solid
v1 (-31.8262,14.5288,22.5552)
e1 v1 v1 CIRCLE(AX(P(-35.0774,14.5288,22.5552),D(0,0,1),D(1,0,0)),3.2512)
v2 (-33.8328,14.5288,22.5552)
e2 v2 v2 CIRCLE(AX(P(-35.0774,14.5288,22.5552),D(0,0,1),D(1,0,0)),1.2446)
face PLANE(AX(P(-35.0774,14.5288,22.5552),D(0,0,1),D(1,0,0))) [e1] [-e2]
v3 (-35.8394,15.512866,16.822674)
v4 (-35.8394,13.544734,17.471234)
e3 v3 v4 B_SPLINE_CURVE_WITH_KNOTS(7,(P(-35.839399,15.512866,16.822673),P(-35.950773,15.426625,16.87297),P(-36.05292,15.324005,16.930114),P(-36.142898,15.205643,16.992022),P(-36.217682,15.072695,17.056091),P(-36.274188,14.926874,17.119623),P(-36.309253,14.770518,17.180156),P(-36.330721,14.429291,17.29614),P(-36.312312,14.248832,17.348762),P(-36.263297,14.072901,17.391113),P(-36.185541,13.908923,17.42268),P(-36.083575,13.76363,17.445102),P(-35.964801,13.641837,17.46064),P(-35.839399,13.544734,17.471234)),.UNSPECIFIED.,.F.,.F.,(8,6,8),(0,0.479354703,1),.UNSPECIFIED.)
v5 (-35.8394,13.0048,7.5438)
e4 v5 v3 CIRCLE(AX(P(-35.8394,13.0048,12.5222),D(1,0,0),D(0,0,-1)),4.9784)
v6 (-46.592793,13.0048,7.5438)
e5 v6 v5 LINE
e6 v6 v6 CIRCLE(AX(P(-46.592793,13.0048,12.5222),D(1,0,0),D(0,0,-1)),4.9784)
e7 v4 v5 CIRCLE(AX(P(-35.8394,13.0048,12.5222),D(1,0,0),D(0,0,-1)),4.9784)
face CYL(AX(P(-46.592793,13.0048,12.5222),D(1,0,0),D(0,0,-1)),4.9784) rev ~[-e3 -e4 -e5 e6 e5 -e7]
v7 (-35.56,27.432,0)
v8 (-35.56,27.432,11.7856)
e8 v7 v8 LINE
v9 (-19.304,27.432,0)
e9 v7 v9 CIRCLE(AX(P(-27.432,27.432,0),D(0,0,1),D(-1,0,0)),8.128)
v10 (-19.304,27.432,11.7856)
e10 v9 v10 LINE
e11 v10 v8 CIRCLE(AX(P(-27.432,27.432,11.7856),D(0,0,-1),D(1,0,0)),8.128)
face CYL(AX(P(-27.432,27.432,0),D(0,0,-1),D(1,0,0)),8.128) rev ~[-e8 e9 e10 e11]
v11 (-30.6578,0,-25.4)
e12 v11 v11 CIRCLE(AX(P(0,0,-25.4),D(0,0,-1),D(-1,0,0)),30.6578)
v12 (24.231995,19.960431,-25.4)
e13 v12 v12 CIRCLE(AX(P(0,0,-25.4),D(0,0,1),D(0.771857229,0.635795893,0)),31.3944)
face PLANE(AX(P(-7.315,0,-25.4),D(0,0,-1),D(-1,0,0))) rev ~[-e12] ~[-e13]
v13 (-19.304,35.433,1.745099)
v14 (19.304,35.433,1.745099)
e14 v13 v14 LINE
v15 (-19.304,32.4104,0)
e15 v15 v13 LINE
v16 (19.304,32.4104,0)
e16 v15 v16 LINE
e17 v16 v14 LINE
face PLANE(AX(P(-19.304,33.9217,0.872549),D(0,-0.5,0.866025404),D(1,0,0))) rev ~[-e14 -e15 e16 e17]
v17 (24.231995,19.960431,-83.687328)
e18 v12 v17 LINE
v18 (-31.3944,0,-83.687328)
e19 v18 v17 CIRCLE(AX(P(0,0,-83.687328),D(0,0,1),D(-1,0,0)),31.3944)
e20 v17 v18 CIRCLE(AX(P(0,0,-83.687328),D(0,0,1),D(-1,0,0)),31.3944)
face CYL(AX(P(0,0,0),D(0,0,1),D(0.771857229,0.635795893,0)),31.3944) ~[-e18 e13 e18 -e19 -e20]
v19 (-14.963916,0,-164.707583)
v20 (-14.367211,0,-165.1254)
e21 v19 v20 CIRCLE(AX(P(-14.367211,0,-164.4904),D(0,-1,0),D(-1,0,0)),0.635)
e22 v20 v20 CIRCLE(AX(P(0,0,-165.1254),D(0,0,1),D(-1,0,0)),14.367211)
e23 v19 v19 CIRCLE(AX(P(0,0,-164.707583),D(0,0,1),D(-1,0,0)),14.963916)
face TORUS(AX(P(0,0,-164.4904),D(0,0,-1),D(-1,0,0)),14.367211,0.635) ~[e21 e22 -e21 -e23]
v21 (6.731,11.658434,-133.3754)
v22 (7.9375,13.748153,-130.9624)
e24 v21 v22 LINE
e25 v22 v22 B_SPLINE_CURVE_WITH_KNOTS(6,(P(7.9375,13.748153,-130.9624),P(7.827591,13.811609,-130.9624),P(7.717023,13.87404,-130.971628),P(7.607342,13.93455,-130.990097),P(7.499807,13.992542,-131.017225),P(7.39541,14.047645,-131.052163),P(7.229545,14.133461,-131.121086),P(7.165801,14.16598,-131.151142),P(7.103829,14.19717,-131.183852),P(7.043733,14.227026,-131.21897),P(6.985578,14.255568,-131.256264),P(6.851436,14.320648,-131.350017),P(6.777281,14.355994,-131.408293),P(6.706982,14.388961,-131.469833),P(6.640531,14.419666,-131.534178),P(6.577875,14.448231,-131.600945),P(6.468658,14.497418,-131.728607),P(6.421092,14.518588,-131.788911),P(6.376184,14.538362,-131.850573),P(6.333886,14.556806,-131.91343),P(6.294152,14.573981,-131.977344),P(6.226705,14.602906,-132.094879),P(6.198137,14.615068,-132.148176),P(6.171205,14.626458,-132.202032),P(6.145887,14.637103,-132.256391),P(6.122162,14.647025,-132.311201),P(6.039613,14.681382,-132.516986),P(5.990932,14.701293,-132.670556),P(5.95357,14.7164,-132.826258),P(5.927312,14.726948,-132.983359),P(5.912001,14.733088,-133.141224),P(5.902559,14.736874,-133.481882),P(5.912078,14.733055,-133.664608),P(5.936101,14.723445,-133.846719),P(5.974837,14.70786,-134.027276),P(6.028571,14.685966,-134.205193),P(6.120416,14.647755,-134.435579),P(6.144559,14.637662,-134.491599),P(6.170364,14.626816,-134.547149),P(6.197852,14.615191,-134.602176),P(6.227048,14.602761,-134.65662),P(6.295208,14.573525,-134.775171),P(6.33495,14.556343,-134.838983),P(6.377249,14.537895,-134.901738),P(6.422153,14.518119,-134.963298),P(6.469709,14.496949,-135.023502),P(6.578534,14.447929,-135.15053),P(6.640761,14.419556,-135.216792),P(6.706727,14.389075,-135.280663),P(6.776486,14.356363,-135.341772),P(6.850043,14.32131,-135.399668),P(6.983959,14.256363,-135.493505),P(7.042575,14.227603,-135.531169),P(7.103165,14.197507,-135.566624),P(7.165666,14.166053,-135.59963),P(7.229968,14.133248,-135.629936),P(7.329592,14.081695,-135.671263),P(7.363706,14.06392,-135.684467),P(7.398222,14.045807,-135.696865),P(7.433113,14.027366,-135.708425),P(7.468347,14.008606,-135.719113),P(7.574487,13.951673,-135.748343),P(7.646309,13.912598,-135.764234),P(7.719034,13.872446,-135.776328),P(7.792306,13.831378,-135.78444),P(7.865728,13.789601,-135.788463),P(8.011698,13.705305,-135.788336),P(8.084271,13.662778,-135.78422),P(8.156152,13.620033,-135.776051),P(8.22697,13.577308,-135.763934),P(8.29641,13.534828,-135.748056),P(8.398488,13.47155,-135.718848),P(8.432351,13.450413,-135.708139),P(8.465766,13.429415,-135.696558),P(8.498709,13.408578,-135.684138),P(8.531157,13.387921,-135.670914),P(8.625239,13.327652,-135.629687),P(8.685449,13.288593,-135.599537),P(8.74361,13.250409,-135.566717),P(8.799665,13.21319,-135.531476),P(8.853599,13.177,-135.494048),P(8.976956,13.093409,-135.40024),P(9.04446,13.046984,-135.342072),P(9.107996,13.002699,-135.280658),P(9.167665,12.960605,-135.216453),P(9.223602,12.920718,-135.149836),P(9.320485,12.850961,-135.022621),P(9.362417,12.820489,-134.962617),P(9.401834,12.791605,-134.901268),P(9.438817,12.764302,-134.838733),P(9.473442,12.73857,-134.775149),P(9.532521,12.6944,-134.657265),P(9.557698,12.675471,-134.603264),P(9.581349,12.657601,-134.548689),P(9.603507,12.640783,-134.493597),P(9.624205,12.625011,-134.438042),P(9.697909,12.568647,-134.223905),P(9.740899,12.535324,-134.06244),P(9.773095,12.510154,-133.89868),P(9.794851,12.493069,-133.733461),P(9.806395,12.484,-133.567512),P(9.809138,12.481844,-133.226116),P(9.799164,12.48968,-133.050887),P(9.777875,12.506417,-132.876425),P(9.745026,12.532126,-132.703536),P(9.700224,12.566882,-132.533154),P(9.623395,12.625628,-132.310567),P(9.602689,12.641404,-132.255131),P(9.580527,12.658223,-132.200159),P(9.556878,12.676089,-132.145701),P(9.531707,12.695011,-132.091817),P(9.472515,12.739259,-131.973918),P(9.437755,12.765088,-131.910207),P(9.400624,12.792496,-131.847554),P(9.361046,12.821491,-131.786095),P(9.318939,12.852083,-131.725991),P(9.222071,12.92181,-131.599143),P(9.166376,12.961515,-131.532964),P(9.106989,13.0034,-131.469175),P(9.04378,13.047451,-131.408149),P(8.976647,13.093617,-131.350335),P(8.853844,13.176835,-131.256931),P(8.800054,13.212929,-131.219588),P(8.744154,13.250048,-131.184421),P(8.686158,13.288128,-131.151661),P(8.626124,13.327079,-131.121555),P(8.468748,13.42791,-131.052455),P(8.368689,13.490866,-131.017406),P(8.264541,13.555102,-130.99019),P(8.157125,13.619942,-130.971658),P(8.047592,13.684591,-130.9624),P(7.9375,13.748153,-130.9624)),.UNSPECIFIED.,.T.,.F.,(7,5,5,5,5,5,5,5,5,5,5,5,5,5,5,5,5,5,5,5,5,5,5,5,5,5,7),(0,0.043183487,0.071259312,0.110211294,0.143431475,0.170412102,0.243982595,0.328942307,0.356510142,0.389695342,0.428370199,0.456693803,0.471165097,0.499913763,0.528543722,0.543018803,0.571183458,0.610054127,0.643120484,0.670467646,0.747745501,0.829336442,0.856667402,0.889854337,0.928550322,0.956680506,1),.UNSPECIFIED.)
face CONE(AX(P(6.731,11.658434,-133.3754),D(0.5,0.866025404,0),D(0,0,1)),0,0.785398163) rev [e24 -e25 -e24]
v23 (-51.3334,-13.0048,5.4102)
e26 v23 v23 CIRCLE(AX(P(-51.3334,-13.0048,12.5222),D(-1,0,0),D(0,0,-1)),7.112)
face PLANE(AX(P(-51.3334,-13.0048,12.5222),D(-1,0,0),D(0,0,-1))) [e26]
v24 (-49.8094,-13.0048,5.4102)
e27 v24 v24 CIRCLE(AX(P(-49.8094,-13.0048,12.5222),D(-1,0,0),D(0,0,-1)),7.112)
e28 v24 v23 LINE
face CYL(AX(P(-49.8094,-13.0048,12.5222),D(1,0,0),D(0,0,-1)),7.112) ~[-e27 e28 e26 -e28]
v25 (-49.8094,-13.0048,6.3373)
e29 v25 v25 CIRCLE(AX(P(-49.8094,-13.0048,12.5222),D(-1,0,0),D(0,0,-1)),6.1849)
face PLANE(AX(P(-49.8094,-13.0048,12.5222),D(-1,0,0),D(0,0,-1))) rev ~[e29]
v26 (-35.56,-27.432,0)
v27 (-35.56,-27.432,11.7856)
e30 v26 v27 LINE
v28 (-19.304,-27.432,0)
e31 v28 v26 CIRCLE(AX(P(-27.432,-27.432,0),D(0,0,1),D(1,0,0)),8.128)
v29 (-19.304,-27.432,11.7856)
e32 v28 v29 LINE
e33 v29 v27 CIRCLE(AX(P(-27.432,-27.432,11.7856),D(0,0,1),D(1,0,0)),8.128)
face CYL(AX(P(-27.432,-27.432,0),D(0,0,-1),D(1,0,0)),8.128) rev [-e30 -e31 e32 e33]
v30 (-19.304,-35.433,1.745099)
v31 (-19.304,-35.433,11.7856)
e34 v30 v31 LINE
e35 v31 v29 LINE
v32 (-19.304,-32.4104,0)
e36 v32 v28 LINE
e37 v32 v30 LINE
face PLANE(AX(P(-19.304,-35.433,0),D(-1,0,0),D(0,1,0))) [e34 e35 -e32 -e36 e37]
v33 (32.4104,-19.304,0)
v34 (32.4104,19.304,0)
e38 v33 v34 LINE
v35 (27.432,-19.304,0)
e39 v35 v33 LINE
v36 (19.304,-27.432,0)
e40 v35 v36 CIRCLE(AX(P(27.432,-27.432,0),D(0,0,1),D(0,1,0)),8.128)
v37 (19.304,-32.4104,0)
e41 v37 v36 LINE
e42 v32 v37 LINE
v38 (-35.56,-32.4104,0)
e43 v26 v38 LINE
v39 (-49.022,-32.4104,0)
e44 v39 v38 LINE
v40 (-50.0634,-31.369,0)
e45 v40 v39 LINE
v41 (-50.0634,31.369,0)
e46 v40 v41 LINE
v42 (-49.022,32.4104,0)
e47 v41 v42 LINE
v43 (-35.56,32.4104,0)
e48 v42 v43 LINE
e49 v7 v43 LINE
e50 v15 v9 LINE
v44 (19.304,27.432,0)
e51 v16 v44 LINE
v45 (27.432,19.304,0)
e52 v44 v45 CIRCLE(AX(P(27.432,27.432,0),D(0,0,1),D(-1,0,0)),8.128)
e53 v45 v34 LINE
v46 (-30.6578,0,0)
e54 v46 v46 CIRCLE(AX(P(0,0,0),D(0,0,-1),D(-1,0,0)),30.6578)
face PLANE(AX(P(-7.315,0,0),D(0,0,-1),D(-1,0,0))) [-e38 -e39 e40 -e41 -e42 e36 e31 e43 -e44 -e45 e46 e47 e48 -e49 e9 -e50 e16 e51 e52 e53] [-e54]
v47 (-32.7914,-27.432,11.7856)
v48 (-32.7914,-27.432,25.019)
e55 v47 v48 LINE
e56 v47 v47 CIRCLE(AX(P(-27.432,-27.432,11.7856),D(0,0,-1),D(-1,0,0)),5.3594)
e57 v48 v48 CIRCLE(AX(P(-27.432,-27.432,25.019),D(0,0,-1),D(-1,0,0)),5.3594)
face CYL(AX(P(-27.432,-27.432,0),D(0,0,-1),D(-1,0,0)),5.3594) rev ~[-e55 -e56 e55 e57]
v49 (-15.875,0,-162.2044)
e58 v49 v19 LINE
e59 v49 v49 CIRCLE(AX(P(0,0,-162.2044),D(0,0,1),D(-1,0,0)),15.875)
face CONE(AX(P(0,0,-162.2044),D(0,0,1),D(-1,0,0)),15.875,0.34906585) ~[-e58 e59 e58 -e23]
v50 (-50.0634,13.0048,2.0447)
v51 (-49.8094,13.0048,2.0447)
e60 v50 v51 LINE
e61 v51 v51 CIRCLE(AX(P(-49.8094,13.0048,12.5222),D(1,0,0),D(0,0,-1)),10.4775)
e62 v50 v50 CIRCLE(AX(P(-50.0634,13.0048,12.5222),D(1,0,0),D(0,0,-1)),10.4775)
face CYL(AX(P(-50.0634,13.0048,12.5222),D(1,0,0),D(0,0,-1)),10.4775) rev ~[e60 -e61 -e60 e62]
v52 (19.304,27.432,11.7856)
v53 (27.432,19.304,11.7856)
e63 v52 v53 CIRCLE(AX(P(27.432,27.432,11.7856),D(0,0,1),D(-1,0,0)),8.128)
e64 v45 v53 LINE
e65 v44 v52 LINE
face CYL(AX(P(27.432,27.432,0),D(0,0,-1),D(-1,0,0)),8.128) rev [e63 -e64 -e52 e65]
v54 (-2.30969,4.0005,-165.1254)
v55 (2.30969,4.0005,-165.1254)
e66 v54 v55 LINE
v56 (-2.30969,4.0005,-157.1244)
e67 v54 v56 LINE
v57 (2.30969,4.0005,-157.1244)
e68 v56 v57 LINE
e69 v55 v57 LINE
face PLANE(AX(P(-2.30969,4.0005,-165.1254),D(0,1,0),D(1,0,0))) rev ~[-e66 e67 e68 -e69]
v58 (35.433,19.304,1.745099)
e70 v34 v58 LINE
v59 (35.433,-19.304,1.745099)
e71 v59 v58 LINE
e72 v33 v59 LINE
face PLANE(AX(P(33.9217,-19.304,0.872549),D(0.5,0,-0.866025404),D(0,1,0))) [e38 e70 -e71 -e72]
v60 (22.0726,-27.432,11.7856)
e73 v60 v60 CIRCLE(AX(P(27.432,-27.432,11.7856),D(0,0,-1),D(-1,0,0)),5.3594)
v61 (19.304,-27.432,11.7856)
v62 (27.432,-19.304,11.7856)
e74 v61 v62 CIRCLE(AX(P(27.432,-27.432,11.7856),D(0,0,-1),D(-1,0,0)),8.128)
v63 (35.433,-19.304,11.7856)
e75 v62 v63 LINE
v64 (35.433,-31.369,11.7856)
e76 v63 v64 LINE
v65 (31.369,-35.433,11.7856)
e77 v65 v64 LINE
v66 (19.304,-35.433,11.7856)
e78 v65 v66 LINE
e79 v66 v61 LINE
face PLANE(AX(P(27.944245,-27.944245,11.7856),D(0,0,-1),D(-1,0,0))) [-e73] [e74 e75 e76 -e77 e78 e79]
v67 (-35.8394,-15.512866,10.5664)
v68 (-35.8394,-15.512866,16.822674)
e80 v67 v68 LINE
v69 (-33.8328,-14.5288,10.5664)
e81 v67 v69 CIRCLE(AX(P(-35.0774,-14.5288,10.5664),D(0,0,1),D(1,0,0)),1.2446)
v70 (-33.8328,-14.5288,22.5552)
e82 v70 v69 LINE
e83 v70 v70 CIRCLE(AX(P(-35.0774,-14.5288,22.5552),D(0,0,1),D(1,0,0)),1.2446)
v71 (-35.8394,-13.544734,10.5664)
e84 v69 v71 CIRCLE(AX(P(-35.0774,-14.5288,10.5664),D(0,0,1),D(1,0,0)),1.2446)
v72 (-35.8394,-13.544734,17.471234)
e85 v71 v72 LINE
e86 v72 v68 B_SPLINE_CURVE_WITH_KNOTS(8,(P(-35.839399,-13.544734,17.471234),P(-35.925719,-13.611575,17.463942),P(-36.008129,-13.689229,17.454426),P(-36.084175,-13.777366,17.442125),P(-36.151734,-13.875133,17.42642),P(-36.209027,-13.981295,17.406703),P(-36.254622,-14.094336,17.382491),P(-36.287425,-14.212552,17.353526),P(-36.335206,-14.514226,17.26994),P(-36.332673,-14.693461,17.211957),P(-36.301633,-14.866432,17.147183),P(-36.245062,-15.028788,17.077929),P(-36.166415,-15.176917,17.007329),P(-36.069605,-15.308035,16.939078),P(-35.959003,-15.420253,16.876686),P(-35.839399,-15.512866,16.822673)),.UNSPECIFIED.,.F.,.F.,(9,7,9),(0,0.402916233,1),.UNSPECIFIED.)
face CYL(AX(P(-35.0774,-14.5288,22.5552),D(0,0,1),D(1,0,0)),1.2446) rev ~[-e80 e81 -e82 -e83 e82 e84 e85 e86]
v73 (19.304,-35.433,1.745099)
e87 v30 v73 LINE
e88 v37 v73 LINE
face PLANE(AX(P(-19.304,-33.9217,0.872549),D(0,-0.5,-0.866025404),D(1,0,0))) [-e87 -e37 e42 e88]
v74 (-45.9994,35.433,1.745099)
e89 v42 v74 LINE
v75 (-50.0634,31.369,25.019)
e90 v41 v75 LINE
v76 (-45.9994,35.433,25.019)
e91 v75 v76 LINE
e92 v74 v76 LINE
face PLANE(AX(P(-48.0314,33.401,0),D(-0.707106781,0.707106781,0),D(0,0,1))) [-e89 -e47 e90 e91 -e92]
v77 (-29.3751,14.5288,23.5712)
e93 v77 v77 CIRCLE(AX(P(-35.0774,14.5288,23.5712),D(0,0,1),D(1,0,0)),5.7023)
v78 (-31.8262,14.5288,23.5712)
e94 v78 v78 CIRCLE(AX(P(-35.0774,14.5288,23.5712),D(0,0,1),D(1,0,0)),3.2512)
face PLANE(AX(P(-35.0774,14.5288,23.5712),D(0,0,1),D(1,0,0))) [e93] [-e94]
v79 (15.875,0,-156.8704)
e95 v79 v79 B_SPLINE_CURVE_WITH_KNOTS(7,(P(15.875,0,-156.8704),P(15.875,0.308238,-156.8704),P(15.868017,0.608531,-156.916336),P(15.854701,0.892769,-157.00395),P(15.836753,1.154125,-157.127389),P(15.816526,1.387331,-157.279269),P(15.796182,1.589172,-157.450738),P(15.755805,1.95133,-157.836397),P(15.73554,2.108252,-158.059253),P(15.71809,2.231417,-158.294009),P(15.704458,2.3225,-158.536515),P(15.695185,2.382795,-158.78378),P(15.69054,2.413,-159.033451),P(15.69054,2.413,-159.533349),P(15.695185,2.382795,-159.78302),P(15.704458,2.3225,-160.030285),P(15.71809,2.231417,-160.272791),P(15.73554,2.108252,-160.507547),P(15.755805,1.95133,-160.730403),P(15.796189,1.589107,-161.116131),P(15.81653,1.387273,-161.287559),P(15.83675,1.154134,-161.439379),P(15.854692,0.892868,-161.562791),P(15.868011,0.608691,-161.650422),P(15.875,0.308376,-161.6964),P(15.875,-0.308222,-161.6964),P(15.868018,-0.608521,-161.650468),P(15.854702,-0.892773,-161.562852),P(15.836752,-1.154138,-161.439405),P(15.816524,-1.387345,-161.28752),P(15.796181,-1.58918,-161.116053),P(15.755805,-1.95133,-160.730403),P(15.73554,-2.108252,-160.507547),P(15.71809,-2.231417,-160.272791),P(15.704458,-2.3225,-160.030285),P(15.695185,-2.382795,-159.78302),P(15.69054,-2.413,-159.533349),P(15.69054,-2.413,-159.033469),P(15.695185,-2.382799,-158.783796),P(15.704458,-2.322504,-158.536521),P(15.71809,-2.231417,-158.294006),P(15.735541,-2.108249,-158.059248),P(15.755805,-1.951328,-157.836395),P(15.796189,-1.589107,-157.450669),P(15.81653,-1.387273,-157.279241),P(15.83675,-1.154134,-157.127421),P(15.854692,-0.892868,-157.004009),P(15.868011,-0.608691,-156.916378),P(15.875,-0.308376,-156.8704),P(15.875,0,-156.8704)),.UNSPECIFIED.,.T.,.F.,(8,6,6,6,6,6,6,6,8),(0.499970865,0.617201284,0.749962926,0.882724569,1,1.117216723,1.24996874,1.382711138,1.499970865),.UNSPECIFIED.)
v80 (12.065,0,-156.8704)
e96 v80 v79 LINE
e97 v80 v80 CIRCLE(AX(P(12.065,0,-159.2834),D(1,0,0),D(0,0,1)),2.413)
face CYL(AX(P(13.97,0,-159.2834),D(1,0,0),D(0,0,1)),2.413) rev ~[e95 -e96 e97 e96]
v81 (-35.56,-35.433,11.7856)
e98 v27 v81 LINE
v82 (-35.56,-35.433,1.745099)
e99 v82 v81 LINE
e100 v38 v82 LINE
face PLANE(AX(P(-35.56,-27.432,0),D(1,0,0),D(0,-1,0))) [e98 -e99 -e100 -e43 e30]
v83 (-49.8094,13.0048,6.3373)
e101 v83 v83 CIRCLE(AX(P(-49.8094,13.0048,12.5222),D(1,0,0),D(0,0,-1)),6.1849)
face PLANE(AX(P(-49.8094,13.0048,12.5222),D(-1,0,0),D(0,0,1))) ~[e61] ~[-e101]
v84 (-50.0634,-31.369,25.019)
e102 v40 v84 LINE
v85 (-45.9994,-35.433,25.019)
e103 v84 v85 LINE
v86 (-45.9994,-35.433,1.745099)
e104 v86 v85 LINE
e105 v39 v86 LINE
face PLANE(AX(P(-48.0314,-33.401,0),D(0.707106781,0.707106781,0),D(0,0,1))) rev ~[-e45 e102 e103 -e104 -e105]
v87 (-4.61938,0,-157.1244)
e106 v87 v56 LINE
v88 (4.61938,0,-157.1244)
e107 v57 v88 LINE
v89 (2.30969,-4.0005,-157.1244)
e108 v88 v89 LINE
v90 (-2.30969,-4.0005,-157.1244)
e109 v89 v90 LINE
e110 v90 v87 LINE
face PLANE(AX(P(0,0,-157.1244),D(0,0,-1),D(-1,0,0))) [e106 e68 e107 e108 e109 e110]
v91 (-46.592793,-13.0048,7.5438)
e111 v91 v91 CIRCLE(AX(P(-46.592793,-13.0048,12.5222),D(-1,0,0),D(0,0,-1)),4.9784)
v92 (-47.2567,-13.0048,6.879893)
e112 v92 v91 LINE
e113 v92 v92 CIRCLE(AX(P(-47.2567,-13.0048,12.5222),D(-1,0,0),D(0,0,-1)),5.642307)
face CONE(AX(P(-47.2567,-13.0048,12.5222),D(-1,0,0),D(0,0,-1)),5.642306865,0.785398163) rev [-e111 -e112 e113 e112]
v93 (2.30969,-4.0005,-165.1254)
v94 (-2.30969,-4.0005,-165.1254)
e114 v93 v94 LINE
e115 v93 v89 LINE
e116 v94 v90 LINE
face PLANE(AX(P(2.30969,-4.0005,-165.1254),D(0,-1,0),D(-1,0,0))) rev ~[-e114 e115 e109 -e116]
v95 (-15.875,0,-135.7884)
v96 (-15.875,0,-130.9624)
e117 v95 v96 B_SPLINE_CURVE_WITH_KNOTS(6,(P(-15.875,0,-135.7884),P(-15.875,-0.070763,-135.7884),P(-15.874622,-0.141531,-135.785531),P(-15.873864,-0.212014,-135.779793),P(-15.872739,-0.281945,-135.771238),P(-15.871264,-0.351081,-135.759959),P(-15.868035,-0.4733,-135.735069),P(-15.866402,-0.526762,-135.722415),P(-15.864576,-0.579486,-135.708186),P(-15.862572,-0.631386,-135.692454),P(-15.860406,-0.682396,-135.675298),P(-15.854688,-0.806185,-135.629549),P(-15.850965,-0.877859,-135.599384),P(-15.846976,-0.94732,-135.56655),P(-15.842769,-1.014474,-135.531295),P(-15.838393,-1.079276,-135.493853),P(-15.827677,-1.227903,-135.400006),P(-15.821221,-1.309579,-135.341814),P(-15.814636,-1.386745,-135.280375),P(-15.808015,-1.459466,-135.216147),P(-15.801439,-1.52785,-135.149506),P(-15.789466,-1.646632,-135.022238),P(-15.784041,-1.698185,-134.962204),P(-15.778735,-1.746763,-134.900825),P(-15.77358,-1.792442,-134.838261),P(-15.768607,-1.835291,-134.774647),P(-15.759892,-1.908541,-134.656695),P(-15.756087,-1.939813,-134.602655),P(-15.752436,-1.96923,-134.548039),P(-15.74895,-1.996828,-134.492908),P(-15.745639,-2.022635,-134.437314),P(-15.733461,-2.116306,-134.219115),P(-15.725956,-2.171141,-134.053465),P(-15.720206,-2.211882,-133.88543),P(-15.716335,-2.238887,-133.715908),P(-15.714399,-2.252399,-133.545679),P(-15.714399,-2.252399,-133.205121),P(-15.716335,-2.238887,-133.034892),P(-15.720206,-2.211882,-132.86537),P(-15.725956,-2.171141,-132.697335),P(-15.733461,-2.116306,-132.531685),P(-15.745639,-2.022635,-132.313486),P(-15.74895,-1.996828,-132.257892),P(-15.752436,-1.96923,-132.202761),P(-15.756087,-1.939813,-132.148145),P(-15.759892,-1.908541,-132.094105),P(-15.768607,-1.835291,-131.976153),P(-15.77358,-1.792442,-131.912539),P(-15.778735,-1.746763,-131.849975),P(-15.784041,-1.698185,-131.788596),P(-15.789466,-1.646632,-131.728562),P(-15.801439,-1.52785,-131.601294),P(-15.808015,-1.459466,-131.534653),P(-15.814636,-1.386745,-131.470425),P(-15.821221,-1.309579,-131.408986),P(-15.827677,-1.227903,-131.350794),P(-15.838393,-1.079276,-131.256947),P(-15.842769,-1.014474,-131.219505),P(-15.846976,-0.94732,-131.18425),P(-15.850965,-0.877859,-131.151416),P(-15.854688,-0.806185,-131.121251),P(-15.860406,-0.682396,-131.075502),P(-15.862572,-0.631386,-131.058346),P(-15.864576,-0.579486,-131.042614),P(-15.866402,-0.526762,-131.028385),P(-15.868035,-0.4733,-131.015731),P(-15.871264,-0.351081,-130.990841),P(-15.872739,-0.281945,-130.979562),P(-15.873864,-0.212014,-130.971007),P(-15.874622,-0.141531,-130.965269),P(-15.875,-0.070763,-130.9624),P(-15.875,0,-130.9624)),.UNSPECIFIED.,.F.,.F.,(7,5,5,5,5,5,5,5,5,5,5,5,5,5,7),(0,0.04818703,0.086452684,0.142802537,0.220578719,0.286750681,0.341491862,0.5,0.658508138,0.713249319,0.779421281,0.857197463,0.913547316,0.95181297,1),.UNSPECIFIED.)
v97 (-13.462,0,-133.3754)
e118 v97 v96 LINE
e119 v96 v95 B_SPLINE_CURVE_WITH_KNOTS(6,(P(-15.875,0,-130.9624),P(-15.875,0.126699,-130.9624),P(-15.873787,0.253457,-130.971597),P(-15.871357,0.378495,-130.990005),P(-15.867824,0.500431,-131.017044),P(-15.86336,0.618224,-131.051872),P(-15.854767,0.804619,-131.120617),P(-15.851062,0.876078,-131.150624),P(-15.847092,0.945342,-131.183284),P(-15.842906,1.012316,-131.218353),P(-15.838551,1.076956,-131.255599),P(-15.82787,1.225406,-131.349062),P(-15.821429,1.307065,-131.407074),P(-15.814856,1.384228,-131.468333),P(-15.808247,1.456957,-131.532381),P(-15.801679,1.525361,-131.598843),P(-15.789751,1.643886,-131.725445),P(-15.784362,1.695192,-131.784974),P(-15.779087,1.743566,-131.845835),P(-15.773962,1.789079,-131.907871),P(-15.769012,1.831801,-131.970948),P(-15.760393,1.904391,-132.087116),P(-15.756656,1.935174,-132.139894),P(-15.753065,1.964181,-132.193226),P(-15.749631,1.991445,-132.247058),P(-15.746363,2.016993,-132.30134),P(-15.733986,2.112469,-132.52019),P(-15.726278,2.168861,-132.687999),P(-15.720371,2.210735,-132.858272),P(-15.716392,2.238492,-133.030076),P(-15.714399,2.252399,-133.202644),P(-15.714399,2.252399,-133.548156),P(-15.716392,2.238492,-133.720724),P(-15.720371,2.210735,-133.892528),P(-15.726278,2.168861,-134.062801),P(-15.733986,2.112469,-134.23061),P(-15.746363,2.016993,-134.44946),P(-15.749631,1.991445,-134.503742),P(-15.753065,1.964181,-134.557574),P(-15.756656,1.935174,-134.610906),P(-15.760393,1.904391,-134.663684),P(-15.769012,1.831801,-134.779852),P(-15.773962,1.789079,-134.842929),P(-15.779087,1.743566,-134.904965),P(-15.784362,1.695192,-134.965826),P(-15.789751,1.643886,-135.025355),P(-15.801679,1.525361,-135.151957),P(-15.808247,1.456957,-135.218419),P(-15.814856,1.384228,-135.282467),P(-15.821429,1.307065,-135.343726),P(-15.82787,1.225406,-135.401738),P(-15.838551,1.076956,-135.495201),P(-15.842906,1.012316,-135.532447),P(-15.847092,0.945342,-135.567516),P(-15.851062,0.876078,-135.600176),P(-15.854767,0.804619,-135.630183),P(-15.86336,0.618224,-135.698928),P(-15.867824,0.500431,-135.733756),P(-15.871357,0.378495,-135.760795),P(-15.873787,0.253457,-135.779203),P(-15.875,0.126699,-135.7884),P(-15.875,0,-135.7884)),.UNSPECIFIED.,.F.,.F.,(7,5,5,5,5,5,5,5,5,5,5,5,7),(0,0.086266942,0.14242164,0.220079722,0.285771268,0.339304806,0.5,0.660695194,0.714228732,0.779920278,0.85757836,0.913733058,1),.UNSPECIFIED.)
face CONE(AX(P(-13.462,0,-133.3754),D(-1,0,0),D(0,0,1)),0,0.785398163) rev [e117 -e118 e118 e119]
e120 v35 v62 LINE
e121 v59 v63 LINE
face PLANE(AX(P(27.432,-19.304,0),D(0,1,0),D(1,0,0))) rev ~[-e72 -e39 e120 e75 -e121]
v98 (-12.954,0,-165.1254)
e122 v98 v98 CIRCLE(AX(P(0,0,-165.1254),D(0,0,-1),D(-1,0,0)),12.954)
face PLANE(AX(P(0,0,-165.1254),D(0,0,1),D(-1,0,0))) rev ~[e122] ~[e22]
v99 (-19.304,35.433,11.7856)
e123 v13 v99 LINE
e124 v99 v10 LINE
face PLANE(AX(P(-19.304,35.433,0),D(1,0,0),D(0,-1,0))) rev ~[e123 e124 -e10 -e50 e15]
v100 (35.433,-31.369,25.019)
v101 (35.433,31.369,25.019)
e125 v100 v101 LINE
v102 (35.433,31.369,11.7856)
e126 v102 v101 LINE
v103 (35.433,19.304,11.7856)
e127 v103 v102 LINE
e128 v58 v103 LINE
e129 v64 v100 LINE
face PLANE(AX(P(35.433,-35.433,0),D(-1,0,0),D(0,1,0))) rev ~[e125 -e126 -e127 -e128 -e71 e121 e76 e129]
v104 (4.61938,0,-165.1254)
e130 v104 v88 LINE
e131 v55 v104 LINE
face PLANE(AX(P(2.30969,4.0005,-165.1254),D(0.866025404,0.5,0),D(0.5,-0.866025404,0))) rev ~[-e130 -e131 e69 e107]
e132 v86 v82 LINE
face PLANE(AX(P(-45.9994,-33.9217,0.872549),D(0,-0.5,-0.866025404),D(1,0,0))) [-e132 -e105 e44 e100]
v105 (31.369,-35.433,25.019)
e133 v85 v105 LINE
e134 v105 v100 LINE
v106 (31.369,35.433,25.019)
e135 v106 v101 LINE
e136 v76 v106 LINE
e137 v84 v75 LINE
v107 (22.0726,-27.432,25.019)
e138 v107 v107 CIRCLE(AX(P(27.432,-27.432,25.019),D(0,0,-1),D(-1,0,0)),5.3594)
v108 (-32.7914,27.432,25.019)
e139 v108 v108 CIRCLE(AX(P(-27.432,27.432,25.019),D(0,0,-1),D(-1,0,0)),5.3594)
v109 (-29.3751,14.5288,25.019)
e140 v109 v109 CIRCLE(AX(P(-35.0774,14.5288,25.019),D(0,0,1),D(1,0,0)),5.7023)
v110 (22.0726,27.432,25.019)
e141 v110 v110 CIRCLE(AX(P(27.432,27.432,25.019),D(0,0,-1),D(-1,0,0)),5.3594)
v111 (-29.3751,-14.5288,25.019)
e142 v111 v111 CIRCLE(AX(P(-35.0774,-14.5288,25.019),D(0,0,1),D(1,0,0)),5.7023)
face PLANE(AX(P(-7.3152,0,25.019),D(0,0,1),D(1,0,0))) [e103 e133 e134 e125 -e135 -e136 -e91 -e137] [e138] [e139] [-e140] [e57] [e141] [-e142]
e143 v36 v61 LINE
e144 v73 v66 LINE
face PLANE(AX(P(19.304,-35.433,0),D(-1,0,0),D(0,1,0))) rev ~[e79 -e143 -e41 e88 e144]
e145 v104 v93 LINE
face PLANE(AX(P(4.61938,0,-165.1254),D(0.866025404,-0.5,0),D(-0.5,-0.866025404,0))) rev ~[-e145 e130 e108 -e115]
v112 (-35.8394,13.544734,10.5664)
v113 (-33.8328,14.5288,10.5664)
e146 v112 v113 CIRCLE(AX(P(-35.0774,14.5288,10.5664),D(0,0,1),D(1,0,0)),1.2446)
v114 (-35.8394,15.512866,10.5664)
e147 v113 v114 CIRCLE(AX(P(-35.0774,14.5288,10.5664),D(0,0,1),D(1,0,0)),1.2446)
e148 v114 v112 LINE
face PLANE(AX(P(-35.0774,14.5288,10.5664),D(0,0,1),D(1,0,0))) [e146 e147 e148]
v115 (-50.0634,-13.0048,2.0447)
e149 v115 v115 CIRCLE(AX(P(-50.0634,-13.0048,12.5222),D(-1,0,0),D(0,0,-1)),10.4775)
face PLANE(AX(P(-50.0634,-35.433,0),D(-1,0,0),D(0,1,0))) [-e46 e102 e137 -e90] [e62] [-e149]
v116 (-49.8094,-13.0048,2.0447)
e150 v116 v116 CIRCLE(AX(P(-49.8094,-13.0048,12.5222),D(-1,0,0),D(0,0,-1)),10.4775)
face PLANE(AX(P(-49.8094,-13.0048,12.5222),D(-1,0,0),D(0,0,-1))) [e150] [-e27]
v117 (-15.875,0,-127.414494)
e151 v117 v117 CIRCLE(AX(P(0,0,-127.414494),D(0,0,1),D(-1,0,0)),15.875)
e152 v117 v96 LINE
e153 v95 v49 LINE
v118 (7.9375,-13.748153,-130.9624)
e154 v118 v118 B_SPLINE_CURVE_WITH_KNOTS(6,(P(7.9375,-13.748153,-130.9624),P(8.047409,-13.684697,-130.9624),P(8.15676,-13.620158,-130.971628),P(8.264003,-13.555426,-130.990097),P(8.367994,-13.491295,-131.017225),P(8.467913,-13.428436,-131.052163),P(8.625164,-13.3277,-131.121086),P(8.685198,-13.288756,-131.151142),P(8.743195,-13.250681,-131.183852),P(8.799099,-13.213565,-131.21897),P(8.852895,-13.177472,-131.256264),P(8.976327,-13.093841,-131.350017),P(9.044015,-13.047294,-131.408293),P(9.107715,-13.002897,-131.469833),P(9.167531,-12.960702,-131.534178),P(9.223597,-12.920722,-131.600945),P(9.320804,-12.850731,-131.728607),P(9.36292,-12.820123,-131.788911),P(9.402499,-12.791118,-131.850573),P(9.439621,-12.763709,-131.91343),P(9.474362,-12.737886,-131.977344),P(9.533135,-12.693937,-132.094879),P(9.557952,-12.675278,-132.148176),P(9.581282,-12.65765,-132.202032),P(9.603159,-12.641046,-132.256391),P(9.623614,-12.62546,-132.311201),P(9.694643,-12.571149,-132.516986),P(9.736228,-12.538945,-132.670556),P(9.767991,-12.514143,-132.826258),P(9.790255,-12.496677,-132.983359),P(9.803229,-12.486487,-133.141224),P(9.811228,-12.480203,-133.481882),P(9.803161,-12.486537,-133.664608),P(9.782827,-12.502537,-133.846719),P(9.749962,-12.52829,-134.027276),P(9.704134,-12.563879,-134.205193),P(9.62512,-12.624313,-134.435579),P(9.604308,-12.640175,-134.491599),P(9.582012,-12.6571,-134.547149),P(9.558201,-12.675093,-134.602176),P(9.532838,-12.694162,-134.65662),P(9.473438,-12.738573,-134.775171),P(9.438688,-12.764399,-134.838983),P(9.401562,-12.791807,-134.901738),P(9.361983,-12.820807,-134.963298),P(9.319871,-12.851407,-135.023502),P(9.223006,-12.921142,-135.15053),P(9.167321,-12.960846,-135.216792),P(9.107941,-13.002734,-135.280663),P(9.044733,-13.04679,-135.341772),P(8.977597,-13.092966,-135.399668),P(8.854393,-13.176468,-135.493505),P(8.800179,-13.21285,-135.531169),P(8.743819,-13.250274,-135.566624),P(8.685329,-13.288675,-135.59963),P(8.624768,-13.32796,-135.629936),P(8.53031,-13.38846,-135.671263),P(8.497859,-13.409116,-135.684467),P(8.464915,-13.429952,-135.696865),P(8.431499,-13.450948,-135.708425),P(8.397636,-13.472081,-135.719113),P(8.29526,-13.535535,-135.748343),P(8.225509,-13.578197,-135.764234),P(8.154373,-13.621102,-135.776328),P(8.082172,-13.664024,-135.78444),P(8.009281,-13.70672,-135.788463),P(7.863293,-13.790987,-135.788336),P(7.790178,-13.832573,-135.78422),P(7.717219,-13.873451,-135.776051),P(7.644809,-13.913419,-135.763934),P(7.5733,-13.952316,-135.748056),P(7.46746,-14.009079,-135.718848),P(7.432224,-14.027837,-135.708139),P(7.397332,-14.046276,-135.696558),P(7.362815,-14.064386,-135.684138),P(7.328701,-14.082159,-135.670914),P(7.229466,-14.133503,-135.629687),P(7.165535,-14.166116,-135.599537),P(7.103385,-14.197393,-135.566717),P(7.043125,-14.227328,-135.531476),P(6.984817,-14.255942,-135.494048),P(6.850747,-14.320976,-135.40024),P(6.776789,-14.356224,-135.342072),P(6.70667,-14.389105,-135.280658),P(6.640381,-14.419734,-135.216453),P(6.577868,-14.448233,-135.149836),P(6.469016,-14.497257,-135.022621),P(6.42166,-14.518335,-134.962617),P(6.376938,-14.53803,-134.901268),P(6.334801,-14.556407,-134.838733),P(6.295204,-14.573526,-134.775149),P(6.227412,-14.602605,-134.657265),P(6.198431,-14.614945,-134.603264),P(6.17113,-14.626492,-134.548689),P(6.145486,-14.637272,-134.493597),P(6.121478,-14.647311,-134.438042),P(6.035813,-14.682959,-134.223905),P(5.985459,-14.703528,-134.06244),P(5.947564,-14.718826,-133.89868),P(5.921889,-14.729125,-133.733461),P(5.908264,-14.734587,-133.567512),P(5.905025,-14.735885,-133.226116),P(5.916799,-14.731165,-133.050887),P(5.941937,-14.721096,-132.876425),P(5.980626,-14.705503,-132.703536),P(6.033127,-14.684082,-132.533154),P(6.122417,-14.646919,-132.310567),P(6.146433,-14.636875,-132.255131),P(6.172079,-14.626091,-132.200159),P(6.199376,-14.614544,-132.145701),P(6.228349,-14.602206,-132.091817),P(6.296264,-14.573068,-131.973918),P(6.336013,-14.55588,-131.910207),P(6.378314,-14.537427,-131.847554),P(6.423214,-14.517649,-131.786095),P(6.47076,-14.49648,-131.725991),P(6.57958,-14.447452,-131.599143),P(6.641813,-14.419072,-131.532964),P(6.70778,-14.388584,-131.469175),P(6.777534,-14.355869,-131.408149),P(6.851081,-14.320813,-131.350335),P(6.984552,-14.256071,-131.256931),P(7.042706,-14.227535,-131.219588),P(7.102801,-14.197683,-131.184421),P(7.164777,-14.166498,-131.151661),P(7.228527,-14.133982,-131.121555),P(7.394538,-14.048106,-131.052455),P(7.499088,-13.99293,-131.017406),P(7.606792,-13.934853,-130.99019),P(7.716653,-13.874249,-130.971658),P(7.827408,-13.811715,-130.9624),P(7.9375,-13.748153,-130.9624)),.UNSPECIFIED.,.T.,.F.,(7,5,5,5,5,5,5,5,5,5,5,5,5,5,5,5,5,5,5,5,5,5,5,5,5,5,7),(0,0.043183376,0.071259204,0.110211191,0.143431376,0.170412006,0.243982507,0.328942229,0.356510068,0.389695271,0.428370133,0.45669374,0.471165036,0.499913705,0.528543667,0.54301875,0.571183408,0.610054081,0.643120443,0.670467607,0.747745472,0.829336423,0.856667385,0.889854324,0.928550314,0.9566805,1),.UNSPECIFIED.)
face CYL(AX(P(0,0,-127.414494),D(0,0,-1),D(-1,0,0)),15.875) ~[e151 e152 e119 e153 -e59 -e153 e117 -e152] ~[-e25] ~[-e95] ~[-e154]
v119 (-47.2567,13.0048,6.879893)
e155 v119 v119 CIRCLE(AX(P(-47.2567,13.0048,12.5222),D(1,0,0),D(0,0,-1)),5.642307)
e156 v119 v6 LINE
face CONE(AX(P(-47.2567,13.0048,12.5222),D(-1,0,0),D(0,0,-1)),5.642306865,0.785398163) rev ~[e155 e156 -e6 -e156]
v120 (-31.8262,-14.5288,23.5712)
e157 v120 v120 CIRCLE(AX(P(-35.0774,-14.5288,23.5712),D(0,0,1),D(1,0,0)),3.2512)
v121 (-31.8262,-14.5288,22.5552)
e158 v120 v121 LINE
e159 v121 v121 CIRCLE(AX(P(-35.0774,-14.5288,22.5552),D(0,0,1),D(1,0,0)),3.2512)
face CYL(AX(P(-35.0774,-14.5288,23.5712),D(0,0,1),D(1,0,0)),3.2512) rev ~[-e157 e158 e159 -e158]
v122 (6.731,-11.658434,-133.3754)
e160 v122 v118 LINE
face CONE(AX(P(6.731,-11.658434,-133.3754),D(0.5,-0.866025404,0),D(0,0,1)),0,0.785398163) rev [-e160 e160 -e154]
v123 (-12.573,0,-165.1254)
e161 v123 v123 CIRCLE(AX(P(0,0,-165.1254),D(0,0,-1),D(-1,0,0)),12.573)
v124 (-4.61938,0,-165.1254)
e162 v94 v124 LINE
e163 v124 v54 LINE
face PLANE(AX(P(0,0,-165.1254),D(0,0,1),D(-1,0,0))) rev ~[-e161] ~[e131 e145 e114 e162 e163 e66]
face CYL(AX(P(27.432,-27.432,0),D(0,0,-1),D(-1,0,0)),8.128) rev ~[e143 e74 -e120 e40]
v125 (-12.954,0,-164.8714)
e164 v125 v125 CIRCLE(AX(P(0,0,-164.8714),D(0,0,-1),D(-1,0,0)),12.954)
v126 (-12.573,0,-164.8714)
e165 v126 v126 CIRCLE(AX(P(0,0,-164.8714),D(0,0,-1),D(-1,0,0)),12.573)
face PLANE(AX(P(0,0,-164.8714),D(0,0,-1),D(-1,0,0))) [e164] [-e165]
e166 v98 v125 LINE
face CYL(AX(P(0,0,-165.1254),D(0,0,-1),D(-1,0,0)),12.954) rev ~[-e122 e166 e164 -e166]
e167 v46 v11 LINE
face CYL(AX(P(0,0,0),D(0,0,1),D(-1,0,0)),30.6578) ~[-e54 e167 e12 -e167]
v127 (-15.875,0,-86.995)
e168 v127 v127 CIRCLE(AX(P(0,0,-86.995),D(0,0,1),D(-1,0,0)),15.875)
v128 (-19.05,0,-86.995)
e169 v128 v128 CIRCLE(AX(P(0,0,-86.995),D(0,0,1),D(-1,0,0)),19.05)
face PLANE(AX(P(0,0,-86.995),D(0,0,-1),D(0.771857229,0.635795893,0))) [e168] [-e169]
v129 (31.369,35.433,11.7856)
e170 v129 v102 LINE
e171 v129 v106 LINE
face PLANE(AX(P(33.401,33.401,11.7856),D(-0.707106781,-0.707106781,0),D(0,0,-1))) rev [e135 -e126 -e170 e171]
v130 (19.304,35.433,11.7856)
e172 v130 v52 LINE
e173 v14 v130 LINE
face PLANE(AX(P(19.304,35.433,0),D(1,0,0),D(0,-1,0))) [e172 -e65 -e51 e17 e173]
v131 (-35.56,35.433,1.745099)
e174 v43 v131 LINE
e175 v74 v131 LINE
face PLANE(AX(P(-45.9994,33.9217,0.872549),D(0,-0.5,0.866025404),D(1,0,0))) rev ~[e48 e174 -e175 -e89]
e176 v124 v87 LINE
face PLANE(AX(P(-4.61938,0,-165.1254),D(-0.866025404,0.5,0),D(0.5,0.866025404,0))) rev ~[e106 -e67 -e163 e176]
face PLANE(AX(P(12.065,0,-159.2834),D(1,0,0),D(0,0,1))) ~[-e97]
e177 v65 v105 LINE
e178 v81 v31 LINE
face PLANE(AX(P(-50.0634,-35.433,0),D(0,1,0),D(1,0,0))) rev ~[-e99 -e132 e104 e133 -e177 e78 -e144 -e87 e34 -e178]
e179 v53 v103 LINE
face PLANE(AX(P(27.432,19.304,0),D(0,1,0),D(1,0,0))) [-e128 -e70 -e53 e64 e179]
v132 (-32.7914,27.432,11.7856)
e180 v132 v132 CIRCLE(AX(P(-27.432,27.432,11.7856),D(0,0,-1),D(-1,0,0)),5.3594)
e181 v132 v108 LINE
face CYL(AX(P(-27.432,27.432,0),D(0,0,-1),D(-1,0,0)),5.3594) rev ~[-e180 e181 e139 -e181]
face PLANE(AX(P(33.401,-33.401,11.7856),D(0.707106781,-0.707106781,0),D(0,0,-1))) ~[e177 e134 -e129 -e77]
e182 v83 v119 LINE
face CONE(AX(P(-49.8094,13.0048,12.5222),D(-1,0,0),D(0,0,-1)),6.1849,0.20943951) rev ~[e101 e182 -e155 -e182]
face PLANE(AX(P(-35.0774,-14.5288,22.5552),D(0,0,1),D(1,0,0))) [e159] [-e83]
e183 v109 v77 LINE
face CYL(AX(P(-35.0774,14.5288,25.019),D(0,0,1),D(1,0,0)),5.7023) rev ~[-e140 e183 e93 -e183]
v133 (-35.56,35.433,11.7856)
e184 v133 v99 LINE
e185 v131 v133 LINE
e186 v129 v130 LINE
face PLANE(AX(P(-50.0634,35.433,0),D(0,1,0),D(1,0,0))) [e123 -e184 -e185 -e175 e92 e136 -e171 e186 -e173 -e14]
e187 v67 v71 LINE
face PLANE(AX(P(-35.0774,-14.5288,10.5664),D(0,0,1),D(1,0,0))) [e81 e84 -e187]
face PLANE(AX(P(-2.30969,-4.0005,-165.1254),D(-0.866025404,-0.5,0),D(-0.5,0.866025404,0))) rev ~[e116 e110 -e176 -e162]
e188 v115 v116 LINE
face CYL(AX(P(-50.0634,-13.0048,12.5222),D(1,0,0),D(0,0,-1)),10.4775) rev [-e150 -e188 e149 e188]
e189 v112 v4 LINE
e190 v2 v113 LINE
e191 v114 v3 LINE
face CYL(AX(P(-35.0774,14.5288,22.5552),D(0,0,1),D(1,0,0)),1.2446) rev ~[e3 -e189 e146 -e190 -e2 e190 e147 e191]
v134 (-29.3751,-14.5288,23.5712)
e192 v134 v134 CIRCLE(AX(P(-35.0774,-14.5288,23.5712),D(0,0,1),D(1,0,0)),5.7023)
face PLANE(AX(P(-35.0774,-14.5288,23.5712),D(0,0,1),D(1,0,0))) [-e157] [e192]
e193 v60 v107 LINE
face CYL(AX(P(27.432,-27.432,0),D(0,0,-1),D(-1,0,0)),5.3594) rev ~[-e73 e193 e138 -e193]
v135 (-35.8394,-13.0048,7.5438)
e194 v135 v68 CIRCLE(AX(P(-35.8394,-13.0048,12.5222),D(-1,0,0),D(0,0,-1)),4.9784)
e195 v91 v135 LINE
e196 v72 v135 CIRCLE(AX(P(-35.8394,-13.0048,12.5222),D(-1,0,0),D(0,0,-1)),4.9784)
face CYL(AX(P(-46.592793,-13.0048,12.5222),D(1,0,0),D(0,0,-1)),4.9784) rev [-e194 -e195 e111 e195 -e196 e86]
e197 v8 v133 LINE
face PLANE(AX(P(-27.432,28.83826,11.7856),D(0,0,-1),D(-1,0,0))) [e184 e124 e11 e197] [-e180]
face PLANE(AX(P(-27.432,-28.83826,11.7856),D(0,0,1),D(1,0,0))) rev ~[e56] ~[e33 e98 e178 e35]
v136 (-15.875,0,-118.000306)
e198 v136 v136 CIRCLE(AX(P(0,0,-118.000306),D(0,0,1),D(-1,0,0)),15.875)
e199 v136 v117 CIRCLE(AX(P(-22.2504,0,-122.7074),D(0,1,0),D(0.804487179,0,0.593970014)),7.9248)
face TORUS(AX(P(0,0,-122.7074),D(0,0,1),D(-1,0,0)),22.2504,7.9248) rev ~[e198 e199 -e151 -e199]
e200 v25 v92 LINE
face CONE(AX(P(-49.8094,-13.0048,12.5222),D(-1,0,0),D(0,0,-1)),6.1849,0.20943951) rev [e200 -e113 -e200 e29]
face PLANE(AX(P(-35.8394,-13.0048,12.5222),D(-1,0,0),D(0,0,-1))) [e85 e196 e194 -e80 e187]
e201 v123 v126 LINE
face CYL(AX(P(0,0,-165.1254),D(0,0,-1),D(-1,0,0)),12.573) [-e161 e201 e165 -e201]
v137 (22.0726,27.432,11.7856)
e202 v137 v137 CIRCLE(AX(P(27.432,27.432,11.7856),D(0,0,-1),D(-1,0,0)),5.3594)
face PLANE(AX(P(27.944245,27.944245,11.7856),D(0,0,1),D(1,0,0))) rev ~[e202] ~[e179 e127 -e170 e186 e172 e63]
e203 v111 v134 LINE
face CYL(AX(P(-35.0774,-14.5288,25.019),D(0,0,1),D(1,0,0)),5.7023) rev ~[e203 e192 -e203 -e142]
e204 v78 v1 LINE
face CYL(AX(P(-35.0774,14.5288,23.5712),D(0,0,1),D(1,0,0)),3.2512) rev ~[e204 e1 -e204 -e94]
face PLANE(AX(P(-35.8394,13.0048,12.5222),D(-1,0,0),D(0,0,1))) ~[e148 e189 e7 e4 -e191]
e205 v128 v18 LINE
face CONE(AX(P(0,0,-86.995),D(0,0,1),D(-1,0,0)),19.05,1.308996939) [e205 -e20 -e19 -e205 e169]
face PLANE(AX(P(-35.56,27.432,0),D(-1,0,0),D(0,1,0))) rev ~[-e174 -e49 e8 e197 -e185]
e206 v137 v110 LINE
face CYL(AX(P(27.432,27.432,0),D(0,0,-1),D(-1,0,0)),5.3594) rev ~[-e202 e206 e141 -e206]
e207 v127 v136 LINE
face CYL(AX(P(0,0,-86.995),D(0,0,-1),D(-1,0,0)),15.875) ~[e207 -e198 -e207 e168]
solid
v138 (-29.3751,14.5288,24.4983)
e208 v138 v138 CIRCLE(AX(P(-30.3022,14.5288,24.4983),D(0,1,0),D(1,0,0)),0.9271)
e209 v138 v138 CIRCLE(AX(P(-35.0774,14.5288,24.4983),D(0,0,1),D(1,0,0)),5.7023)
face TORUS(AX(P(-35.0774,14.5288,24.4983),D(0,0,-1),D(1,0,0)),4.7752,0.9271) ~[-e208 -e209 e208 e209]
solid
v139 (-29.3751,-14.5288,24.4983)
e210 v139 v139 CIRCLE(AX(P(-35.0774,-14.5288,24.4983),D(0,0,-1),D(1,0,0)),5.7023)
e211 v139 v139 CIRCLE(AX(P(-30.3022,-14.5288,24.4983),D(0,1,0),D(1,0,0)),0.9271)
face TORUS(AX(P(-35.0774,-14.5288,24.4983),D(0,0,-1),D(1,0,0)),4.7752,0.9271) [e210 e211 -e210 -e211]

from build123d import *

# Parameters (mm, degrees)
SKETCH1_W            = 85.4964
SKETCH1_H            = 70.866
EXTRUDE1_DEPTH       = 25.019
SKETCH2_R            = 5.3594
CUT_EXTRUDE1_DEPTH   = 27.5209
LPATTERN1_COUNT      = 2
LPATTERN1_PITCH      = 54.864
LPATTERN1_COUNT_DIR2 = 2
LPATTERN1_PITCH_DIR2 = 54.864
CUT_EXTRUDE2_DEPTH   = 11.7856
SKETCH6_R            = 5.7023
CUT_EXTRUDE3_DEPTH   = 1.4478
SKETCH7_R            = 3.2512
CUT_EXTRUDE4_DEPTH   = 1.016
SKETCH8_R            = 1.2446
CUT_EXTRUDE5_DEPTH   = 11.9888
SKETCH9_R            = 0.9271
CHAMFER1_SIZE        = 4.064
CHAMFER2_SIZE        = 3.0226
CHAMFER2_SIZE2       = 1.745098924
SKETCH14_R           = 31.3944
EXTRUDE2_DEPTH       = 86.995
SKETCH15_OUTSIDE_W   = 119.1
SKETCH15_OUTSIDE_H   = 104.47
SKETCH15_OUTSIDE_R   = 30.6578
CUT_EXTRUDE9_DEPTH   = 25.4
SKETCH19_R           = 7.112
EXTRUDE3_DEPTH       = 1.524
SKETCH20_R           = 12.954
SKETCH20_R_2         = 12.573
CUT_EXTRUDE10_DEPTH  = 0.254
CUT_EXTRUDE11_DEPTH  = 8.001
CIRPATTERN1_COUNT    = 3
SKETCH23_W           = 3.81
SKETCH23_H           = 2.413
FILLET1_R            = 0.635


with BuildPart() as part:
    # Sketch1 → Extrude1 (new body)
    with BuildSketch(Plane.XY):
        with Locations((-7.3152, 0)):
            Rectangle(SKETCH1_W, SKETCH1_H)
    extrude(amount=EXTRUDE1_DEPTH)

    # Sketch2 → Cut-Extrude1 (cut)
    with BuildSketch(Plane(origin=(0, 0, 0), x_dir=(-1, 0, 0), z_dir=(0, 0, -1))):
        with Locations((-27.432, -27.432)):
            Circle(SKETCH2_R)
    cut_extrude1 = extrude(amount=-CUT_EXTRUDE1_DEPTH, mode=Mode.SUBTRACT)

    # LPattern1: Cut-Extrude1 2 × 2
    with Locations(*[(-j * LPATTERN1_PITCH_DIR2, i * LPATTERN1_PITCH, 0) for i in range(LPATTERN1_COUNT) for j in range(LPATTERN1_COUNT_DIR2) if (i, j) != (0, 0)]):
        add(cut_extrude1, mode=Mode.SUBTRACT)

    # Sketch3 → Cut-Extrude2 (cut)
    with BuildSketch(Plane(origin=(0, 0, 0), x_dir=(-1, 0, 0), z_dir=(0, 0, -1))):
        with BuildLine():
            Line((-27.432, -19.304), (-35.433, -19.304))
            Line((-35.433, -19.304), (-35.433, -35.433))
            Line((-35.433, -35.433), (-19.304, -35.433))
            Line((-19.304, -35.433), (-19.304, -27.432))
            ThreePointArc((-19.304, -27.432), (-21.684636083, -21.684636083), (-27.432, -19.304))
        make_face()
        with BuildLine():
            Line((-35.433, 19.304), (-35.433, 35.433))
            Line((-35.433, 35.433), (-19.304, 35.433))
            Line((-19.304, 35.433), (-19.304, 27.432))
            ThreePointArc((-19.304, 27.432), (-21.684636083, 21.684636083), (-27.432, 19.304))
            Line((-27.432, 19.304), (-35.433, 19.304))
        make_face()
        with BuildLine():
            Line((19.304, 35.433), (19.304, 27.432))
            ThreePointArc((19.304, 27.432), (27.432, 19.304), (35.56, 27.432))
            Line((35.56, 27.432), (35.56, 35.433))
            Line((35.56, 35.433), (19.304, 35.433))
        make_face()
        with BuildLine():
            Line((35.56, -35.433), (19.304, -35.433))
            Line((19.304, -35.433), (19.304, -27.432))
            ThreePointArc((19.304, -27.432), (27.432, -19.304), (35.56, -27.432))
            Line((35.56, -27.432), (35.56, -35.433))
        make_face()
    extrude(amount=-CUT_EXTRUDE2_DEPTH, mode=Mode.SUBTRACT)

    # S2D0007 → Cut-Revolve1 (revolve, cut)
    with BuildSketch(Plane(origin=(-55.5498, -13.0048, 12.5222), x_dir=(0, 1, 0), z_dir=(0, 0, 1)), mode=Mode.PRIVATE) as cut_revolve1_sk:
        Polygon((0, -5.4864), (10.4775, -5.4864), (10.4775, -5.7404), (6.1849, -5.7404), (5.642306865, -8.2931), (4.9784, -8.957006865), (4.9784, -19.7104), (0, -19.7104), align=None)
    cut_revolve1 = revolve(cut_revolve1_sk.sketch.rotate(Axis((-35.077219214, -13.0048, 12.5222), (-1, 0, 0)), 90), axis=Axis((-35.077219214, -13.0048, 12.5222), (-1, 0, 0)), mode=Mode.SUBTRACT)  # turned: the seam where the file's is

    # Mirror1: Cut-Revolve1 across plane
    add(cut_revolve1.mirror(Plane.ZX), mode=Mode.SUBTRACT)

    # Sketch6 → Cut-Extrude3 (cut)
    with BuildSketch(Plane.XY.offset(25.019)):
        with Locations((-35.0774, -14.5288)):
            Circle(SKETCH6_R)
        with Locations((-35.0774, 14.5288)):
            Circle(SKETCH6_R)
    extrude(amount=-CUT_EXTRUDE3_DEPTH, mode=Mode.SUBTRACT)

    # Sketch7 → Cut-Extrude4 (cut)
    with BuildSketch(Plane.XY.offset(23.5712)):
        with Locations((-35.0774, 14.5288)):
            Circle(SKETCH7_R)
        with Locations((-35.0774, -14.5288)):
            Circle(SKETCH7_R)
    extrude(amount=-CUT_EXTRUDE4_DEPTH, mode=Mode.SUBTRACT)

    # Sketch8 → Cut-Extrude5 (cut)
    with BuildSketch(Plane.XY.offset(22.5552)):
        with Locations((-35.0774, 14.5288)):
            Circle(SKETCH8_R)
        with Locations((-35.0774, -14.5288)):
            Circle(SKETCH8_R)
    extrude(amount=-CUT_EXTRUDE5_DEPTH, mode=Mode.SUBTRACT)

    # Chamfer1
    chamfer1_edges = [part.edges().sort_by_distance(p)[0] for p in [
        (-50.0634, 35.433, 12.5095),
        (35.433, 35.433, 18.4023),
        (35.433, -35.433, 18.4023),
        (-50.0634, -35.433, 12.5095),
    ]]
    chamfer(chamfer1_edges, length=CHAMFER1_SIZE)

    # Chamfer2
    chamfer2_edges = [part.edges().sort_by_distance(p)[0] for p in [
        (-40.7797, -35.433, 0),
        (35.433, 0, 0),
        (0, 35.433, 0),
        (-40.7797, 35.433, 0),
        (0, -35.433, 0),
    ]]
    chamfer2_side = [part.faces().sort_by_distance(p)[0] for p in [
        (-8.721448678, 0, 0),
    ]]
    chamfer(chamfer2_edges, length=CHAMFER2_SIZE, length2=CHAMFER2_SIZE2, reference=chamfer2_side[0])

    # Sketch14 → Extrude2 (add)
    with BuildSketch(Plane(origin=(0, 0, 0), x_dir=(-1, 0, 0), z_dir=(0, 0, -1))):
        with Locations(Location((0, 0, 0), (0, 0, 140.520960584))):  # turned: the seam where the file's is
            Circle(SKETCH14_R)
    extrude(amount=EXTRUDE2_DEPTH)

    # Sketch15 outside → Cut-Extrude9 (cut)
    with BuildSketch(Plane(origin=(0, 0, 0), x_dir=(-1, 0, 0), z_dir=(0, 0, -1))):
        with Locations((7.315, 0)):
            Rectangle(SKETCH15_OUTSIDE_W, SKETCH15_OUTSIDE_H)
        Circle(SKETCH15_OUTSIDE_R, mode=Mode.SUBTRACT)
    extrude(amount=CUT_EXTRUDE9_DEPTH, mode=Mode.SUBTRACT)

    # Sketch16 → Cut-Revolve3 (revolve, cut)
    with BuildSketch(Plane(origin=(0, 0, 0), x_dir=(0, 0, 1), z_dir=(1, 0, 0)), mode=Mode.PRIVATE) as cut_revolve3_sk:
        Polygon((-86.995, 19.05), (-83.687327989, 31.3944), (-86.995, 31.3944), align=None)
    revolve(cut_revolve3_sk.sketch.rotate(Axis((0, 0, -96.582204284), (0, 0, 1)), 270), axis=Axis((0, 0, -96.582204284), (0, 0, 1)), mode=Mode.SUBTRACT)  # turned: the seam where the file's is

    # Sketch17 → Revolve3 (revolve)
    with BuildSketch(Plane(origin=(0, 0, 0), x_dir=(0, 0, 1), z_dir=(1, 0, 0)), mode=Mode.PRIVATE) as revolve3_sk:
        with BuildLine():
            Line((-86.995, 0), (-86.995, 15.875))
            Line((-86.995, 15.875), (-118.00030643, 15.875))
            ThreePointArc((-118.00030643, 15.875), (-122.7074, 14.3256), (-127.41449357, 15.875))
            Line((-127.41449357, 15.875), (-162.2044, 15.875))
            Line((-162.2044, 15.875), (-165.1254, 14.811842946))
            Line((-165.1254, 14.811842946), (-165.1254, 0))
            Line((-165.1254, 0), (-86.995, 0))
        make_face()
    revolve(revolve3_sk.sketch.rotate(Axis((0, 0, -180.9369), (0, 0, 1)), 270), axis=Axis((0, 0, -180.9369), (0, 0, 1)))  # turned: the seam where the file's is

    # Sketch19 → Extrude3 (add)
    with BuildSketch(Plane.ZY.offset(49.8094)):
        with Locations(Location((12.5222, -13.0048, 0), (0, 0, 180))):  # turned: the seam where the file's is
            Circle(SKETCH19_R)
    extrude(amount=EXTRUDE3_DEPTH)

    # Sketch20 → Cut-Extrude10 (cut)
    with BuildSketch(Plane(origin=(0, 0, -165.1254), x_dir=(-1, 0, 0), z_dir=(0, 0, -1))):
        Circle(SKETCH20_R)
        Circle(SKETCH20_R_2, mode=Mode.SUBTRACT)
    extrude(amount=-CUT_EXTRUDE10_DEPTH, mode=Mode.SUBTRACT)

    # Sketch21 → Cut-Extrude11 (cut)
    with BuildSketch(Plane(origin=(0, 0, -165.1254), x_dir=(-1, 0, 0), z_dir=(0, 0, -1))):
        Polygon((4.619379504, 0), (2.309689752, 4.0005), (-2.309689752, 4.0005), (-4.619379504, 0), (-2.309689752, -4.0005), (2.309689752, -4.0005), align=None)
    extrude(amount=-CUT_EXTRUDE11_DEPTH, mode=Mode.SUBTRACT)

    # Sketch22 → Cut-Revolve4 (revolve, cut)
    with BuildSketch(Plane(origin=(0, 0, 0), x_dir=(1, 0, 0), z_dir=(0, 1, 0)), mode=Mode.PRIVATE) as cut_revolve4_sk:
        Polygon((-15.875, 135.7884), (-15.875, 133.3754), (-13.462, 133.3754), align=None)
    cut_revolve4 = revolve(cut_revolve4_sk.sketch.rotate(Axis((-21.668802649, 0, -133.3754), (1, 0, 0)), 180), axis=Axis((-21.668802649, 0, -133.3754), (1, 0, 0)), mode=Mode.SUBTRACT)  # turned: the seam where the file's is

    # CirPattern1: Cut-Revolve4 ×3 about axis
    cirpattern1_axis = Axis((0, 0, -180.9369), (0, 0, -1))
    for i in range(1, CIRPATTERN1_COUNT):
        add(cut_revolve4.rotate(cirpattern1_axis, i * 360 / CIRPATTERN1_COUNT), mode=Mode.SUBTRACT)

    # Sketch23 → Cut-Revolve5 (revolve, cut)
    with BuildSketch(Plane(origin=(0, 0, 0), x_dir=(1, 0, 0), z_dir=(0, 1, 0)), mode=Mode.PRIVATE) as cut_revolve5_sk:
        with Locations((13.97, 160.4899)):
            Rectangle(SKETCH23_W, SKETCH23_H)
    revolve(cut_revolve5_sk.sketch.rotate(Axis((-15.875, 0, -159.2834), (1, 0, 0)), 180), axis=Axis((-15.875, 0, -159.2834), (1, 0, 0)), mode=Mode.SUBTRACT)  # turned: the seam where the file's is

    # Fillet1
    fillet1_edges = [part.edges().sort_by_distance(p)[0] for p in [
        (14.811842946, 0, -165.1254),
    ]]
    fillet(fillet1_edges, radius=FILLET1_R)


with BuildPart() as body_2:
    # Sketch9 → Revolve1 (revolve)
    with BuildSketch(Plane(origin=(-41.656, -14.5288, 23.5712), x_dir=(1, 0, 0), z_dir=(0, 1, 0))):
        with Locations((11.3538, -0.9271)):
            Circle(SKETCH9_R)
    revolve(axis=Axis((-35.0774, -14.5288, 25.51811), (0, 0, -1)))


with BuildPart() as body_3:
    # Mirror2: mirrored copy
    add(body_2.part.mirror(Plane.ZX))


solid = Compound([part.part, body_2.part, body_3.part])
